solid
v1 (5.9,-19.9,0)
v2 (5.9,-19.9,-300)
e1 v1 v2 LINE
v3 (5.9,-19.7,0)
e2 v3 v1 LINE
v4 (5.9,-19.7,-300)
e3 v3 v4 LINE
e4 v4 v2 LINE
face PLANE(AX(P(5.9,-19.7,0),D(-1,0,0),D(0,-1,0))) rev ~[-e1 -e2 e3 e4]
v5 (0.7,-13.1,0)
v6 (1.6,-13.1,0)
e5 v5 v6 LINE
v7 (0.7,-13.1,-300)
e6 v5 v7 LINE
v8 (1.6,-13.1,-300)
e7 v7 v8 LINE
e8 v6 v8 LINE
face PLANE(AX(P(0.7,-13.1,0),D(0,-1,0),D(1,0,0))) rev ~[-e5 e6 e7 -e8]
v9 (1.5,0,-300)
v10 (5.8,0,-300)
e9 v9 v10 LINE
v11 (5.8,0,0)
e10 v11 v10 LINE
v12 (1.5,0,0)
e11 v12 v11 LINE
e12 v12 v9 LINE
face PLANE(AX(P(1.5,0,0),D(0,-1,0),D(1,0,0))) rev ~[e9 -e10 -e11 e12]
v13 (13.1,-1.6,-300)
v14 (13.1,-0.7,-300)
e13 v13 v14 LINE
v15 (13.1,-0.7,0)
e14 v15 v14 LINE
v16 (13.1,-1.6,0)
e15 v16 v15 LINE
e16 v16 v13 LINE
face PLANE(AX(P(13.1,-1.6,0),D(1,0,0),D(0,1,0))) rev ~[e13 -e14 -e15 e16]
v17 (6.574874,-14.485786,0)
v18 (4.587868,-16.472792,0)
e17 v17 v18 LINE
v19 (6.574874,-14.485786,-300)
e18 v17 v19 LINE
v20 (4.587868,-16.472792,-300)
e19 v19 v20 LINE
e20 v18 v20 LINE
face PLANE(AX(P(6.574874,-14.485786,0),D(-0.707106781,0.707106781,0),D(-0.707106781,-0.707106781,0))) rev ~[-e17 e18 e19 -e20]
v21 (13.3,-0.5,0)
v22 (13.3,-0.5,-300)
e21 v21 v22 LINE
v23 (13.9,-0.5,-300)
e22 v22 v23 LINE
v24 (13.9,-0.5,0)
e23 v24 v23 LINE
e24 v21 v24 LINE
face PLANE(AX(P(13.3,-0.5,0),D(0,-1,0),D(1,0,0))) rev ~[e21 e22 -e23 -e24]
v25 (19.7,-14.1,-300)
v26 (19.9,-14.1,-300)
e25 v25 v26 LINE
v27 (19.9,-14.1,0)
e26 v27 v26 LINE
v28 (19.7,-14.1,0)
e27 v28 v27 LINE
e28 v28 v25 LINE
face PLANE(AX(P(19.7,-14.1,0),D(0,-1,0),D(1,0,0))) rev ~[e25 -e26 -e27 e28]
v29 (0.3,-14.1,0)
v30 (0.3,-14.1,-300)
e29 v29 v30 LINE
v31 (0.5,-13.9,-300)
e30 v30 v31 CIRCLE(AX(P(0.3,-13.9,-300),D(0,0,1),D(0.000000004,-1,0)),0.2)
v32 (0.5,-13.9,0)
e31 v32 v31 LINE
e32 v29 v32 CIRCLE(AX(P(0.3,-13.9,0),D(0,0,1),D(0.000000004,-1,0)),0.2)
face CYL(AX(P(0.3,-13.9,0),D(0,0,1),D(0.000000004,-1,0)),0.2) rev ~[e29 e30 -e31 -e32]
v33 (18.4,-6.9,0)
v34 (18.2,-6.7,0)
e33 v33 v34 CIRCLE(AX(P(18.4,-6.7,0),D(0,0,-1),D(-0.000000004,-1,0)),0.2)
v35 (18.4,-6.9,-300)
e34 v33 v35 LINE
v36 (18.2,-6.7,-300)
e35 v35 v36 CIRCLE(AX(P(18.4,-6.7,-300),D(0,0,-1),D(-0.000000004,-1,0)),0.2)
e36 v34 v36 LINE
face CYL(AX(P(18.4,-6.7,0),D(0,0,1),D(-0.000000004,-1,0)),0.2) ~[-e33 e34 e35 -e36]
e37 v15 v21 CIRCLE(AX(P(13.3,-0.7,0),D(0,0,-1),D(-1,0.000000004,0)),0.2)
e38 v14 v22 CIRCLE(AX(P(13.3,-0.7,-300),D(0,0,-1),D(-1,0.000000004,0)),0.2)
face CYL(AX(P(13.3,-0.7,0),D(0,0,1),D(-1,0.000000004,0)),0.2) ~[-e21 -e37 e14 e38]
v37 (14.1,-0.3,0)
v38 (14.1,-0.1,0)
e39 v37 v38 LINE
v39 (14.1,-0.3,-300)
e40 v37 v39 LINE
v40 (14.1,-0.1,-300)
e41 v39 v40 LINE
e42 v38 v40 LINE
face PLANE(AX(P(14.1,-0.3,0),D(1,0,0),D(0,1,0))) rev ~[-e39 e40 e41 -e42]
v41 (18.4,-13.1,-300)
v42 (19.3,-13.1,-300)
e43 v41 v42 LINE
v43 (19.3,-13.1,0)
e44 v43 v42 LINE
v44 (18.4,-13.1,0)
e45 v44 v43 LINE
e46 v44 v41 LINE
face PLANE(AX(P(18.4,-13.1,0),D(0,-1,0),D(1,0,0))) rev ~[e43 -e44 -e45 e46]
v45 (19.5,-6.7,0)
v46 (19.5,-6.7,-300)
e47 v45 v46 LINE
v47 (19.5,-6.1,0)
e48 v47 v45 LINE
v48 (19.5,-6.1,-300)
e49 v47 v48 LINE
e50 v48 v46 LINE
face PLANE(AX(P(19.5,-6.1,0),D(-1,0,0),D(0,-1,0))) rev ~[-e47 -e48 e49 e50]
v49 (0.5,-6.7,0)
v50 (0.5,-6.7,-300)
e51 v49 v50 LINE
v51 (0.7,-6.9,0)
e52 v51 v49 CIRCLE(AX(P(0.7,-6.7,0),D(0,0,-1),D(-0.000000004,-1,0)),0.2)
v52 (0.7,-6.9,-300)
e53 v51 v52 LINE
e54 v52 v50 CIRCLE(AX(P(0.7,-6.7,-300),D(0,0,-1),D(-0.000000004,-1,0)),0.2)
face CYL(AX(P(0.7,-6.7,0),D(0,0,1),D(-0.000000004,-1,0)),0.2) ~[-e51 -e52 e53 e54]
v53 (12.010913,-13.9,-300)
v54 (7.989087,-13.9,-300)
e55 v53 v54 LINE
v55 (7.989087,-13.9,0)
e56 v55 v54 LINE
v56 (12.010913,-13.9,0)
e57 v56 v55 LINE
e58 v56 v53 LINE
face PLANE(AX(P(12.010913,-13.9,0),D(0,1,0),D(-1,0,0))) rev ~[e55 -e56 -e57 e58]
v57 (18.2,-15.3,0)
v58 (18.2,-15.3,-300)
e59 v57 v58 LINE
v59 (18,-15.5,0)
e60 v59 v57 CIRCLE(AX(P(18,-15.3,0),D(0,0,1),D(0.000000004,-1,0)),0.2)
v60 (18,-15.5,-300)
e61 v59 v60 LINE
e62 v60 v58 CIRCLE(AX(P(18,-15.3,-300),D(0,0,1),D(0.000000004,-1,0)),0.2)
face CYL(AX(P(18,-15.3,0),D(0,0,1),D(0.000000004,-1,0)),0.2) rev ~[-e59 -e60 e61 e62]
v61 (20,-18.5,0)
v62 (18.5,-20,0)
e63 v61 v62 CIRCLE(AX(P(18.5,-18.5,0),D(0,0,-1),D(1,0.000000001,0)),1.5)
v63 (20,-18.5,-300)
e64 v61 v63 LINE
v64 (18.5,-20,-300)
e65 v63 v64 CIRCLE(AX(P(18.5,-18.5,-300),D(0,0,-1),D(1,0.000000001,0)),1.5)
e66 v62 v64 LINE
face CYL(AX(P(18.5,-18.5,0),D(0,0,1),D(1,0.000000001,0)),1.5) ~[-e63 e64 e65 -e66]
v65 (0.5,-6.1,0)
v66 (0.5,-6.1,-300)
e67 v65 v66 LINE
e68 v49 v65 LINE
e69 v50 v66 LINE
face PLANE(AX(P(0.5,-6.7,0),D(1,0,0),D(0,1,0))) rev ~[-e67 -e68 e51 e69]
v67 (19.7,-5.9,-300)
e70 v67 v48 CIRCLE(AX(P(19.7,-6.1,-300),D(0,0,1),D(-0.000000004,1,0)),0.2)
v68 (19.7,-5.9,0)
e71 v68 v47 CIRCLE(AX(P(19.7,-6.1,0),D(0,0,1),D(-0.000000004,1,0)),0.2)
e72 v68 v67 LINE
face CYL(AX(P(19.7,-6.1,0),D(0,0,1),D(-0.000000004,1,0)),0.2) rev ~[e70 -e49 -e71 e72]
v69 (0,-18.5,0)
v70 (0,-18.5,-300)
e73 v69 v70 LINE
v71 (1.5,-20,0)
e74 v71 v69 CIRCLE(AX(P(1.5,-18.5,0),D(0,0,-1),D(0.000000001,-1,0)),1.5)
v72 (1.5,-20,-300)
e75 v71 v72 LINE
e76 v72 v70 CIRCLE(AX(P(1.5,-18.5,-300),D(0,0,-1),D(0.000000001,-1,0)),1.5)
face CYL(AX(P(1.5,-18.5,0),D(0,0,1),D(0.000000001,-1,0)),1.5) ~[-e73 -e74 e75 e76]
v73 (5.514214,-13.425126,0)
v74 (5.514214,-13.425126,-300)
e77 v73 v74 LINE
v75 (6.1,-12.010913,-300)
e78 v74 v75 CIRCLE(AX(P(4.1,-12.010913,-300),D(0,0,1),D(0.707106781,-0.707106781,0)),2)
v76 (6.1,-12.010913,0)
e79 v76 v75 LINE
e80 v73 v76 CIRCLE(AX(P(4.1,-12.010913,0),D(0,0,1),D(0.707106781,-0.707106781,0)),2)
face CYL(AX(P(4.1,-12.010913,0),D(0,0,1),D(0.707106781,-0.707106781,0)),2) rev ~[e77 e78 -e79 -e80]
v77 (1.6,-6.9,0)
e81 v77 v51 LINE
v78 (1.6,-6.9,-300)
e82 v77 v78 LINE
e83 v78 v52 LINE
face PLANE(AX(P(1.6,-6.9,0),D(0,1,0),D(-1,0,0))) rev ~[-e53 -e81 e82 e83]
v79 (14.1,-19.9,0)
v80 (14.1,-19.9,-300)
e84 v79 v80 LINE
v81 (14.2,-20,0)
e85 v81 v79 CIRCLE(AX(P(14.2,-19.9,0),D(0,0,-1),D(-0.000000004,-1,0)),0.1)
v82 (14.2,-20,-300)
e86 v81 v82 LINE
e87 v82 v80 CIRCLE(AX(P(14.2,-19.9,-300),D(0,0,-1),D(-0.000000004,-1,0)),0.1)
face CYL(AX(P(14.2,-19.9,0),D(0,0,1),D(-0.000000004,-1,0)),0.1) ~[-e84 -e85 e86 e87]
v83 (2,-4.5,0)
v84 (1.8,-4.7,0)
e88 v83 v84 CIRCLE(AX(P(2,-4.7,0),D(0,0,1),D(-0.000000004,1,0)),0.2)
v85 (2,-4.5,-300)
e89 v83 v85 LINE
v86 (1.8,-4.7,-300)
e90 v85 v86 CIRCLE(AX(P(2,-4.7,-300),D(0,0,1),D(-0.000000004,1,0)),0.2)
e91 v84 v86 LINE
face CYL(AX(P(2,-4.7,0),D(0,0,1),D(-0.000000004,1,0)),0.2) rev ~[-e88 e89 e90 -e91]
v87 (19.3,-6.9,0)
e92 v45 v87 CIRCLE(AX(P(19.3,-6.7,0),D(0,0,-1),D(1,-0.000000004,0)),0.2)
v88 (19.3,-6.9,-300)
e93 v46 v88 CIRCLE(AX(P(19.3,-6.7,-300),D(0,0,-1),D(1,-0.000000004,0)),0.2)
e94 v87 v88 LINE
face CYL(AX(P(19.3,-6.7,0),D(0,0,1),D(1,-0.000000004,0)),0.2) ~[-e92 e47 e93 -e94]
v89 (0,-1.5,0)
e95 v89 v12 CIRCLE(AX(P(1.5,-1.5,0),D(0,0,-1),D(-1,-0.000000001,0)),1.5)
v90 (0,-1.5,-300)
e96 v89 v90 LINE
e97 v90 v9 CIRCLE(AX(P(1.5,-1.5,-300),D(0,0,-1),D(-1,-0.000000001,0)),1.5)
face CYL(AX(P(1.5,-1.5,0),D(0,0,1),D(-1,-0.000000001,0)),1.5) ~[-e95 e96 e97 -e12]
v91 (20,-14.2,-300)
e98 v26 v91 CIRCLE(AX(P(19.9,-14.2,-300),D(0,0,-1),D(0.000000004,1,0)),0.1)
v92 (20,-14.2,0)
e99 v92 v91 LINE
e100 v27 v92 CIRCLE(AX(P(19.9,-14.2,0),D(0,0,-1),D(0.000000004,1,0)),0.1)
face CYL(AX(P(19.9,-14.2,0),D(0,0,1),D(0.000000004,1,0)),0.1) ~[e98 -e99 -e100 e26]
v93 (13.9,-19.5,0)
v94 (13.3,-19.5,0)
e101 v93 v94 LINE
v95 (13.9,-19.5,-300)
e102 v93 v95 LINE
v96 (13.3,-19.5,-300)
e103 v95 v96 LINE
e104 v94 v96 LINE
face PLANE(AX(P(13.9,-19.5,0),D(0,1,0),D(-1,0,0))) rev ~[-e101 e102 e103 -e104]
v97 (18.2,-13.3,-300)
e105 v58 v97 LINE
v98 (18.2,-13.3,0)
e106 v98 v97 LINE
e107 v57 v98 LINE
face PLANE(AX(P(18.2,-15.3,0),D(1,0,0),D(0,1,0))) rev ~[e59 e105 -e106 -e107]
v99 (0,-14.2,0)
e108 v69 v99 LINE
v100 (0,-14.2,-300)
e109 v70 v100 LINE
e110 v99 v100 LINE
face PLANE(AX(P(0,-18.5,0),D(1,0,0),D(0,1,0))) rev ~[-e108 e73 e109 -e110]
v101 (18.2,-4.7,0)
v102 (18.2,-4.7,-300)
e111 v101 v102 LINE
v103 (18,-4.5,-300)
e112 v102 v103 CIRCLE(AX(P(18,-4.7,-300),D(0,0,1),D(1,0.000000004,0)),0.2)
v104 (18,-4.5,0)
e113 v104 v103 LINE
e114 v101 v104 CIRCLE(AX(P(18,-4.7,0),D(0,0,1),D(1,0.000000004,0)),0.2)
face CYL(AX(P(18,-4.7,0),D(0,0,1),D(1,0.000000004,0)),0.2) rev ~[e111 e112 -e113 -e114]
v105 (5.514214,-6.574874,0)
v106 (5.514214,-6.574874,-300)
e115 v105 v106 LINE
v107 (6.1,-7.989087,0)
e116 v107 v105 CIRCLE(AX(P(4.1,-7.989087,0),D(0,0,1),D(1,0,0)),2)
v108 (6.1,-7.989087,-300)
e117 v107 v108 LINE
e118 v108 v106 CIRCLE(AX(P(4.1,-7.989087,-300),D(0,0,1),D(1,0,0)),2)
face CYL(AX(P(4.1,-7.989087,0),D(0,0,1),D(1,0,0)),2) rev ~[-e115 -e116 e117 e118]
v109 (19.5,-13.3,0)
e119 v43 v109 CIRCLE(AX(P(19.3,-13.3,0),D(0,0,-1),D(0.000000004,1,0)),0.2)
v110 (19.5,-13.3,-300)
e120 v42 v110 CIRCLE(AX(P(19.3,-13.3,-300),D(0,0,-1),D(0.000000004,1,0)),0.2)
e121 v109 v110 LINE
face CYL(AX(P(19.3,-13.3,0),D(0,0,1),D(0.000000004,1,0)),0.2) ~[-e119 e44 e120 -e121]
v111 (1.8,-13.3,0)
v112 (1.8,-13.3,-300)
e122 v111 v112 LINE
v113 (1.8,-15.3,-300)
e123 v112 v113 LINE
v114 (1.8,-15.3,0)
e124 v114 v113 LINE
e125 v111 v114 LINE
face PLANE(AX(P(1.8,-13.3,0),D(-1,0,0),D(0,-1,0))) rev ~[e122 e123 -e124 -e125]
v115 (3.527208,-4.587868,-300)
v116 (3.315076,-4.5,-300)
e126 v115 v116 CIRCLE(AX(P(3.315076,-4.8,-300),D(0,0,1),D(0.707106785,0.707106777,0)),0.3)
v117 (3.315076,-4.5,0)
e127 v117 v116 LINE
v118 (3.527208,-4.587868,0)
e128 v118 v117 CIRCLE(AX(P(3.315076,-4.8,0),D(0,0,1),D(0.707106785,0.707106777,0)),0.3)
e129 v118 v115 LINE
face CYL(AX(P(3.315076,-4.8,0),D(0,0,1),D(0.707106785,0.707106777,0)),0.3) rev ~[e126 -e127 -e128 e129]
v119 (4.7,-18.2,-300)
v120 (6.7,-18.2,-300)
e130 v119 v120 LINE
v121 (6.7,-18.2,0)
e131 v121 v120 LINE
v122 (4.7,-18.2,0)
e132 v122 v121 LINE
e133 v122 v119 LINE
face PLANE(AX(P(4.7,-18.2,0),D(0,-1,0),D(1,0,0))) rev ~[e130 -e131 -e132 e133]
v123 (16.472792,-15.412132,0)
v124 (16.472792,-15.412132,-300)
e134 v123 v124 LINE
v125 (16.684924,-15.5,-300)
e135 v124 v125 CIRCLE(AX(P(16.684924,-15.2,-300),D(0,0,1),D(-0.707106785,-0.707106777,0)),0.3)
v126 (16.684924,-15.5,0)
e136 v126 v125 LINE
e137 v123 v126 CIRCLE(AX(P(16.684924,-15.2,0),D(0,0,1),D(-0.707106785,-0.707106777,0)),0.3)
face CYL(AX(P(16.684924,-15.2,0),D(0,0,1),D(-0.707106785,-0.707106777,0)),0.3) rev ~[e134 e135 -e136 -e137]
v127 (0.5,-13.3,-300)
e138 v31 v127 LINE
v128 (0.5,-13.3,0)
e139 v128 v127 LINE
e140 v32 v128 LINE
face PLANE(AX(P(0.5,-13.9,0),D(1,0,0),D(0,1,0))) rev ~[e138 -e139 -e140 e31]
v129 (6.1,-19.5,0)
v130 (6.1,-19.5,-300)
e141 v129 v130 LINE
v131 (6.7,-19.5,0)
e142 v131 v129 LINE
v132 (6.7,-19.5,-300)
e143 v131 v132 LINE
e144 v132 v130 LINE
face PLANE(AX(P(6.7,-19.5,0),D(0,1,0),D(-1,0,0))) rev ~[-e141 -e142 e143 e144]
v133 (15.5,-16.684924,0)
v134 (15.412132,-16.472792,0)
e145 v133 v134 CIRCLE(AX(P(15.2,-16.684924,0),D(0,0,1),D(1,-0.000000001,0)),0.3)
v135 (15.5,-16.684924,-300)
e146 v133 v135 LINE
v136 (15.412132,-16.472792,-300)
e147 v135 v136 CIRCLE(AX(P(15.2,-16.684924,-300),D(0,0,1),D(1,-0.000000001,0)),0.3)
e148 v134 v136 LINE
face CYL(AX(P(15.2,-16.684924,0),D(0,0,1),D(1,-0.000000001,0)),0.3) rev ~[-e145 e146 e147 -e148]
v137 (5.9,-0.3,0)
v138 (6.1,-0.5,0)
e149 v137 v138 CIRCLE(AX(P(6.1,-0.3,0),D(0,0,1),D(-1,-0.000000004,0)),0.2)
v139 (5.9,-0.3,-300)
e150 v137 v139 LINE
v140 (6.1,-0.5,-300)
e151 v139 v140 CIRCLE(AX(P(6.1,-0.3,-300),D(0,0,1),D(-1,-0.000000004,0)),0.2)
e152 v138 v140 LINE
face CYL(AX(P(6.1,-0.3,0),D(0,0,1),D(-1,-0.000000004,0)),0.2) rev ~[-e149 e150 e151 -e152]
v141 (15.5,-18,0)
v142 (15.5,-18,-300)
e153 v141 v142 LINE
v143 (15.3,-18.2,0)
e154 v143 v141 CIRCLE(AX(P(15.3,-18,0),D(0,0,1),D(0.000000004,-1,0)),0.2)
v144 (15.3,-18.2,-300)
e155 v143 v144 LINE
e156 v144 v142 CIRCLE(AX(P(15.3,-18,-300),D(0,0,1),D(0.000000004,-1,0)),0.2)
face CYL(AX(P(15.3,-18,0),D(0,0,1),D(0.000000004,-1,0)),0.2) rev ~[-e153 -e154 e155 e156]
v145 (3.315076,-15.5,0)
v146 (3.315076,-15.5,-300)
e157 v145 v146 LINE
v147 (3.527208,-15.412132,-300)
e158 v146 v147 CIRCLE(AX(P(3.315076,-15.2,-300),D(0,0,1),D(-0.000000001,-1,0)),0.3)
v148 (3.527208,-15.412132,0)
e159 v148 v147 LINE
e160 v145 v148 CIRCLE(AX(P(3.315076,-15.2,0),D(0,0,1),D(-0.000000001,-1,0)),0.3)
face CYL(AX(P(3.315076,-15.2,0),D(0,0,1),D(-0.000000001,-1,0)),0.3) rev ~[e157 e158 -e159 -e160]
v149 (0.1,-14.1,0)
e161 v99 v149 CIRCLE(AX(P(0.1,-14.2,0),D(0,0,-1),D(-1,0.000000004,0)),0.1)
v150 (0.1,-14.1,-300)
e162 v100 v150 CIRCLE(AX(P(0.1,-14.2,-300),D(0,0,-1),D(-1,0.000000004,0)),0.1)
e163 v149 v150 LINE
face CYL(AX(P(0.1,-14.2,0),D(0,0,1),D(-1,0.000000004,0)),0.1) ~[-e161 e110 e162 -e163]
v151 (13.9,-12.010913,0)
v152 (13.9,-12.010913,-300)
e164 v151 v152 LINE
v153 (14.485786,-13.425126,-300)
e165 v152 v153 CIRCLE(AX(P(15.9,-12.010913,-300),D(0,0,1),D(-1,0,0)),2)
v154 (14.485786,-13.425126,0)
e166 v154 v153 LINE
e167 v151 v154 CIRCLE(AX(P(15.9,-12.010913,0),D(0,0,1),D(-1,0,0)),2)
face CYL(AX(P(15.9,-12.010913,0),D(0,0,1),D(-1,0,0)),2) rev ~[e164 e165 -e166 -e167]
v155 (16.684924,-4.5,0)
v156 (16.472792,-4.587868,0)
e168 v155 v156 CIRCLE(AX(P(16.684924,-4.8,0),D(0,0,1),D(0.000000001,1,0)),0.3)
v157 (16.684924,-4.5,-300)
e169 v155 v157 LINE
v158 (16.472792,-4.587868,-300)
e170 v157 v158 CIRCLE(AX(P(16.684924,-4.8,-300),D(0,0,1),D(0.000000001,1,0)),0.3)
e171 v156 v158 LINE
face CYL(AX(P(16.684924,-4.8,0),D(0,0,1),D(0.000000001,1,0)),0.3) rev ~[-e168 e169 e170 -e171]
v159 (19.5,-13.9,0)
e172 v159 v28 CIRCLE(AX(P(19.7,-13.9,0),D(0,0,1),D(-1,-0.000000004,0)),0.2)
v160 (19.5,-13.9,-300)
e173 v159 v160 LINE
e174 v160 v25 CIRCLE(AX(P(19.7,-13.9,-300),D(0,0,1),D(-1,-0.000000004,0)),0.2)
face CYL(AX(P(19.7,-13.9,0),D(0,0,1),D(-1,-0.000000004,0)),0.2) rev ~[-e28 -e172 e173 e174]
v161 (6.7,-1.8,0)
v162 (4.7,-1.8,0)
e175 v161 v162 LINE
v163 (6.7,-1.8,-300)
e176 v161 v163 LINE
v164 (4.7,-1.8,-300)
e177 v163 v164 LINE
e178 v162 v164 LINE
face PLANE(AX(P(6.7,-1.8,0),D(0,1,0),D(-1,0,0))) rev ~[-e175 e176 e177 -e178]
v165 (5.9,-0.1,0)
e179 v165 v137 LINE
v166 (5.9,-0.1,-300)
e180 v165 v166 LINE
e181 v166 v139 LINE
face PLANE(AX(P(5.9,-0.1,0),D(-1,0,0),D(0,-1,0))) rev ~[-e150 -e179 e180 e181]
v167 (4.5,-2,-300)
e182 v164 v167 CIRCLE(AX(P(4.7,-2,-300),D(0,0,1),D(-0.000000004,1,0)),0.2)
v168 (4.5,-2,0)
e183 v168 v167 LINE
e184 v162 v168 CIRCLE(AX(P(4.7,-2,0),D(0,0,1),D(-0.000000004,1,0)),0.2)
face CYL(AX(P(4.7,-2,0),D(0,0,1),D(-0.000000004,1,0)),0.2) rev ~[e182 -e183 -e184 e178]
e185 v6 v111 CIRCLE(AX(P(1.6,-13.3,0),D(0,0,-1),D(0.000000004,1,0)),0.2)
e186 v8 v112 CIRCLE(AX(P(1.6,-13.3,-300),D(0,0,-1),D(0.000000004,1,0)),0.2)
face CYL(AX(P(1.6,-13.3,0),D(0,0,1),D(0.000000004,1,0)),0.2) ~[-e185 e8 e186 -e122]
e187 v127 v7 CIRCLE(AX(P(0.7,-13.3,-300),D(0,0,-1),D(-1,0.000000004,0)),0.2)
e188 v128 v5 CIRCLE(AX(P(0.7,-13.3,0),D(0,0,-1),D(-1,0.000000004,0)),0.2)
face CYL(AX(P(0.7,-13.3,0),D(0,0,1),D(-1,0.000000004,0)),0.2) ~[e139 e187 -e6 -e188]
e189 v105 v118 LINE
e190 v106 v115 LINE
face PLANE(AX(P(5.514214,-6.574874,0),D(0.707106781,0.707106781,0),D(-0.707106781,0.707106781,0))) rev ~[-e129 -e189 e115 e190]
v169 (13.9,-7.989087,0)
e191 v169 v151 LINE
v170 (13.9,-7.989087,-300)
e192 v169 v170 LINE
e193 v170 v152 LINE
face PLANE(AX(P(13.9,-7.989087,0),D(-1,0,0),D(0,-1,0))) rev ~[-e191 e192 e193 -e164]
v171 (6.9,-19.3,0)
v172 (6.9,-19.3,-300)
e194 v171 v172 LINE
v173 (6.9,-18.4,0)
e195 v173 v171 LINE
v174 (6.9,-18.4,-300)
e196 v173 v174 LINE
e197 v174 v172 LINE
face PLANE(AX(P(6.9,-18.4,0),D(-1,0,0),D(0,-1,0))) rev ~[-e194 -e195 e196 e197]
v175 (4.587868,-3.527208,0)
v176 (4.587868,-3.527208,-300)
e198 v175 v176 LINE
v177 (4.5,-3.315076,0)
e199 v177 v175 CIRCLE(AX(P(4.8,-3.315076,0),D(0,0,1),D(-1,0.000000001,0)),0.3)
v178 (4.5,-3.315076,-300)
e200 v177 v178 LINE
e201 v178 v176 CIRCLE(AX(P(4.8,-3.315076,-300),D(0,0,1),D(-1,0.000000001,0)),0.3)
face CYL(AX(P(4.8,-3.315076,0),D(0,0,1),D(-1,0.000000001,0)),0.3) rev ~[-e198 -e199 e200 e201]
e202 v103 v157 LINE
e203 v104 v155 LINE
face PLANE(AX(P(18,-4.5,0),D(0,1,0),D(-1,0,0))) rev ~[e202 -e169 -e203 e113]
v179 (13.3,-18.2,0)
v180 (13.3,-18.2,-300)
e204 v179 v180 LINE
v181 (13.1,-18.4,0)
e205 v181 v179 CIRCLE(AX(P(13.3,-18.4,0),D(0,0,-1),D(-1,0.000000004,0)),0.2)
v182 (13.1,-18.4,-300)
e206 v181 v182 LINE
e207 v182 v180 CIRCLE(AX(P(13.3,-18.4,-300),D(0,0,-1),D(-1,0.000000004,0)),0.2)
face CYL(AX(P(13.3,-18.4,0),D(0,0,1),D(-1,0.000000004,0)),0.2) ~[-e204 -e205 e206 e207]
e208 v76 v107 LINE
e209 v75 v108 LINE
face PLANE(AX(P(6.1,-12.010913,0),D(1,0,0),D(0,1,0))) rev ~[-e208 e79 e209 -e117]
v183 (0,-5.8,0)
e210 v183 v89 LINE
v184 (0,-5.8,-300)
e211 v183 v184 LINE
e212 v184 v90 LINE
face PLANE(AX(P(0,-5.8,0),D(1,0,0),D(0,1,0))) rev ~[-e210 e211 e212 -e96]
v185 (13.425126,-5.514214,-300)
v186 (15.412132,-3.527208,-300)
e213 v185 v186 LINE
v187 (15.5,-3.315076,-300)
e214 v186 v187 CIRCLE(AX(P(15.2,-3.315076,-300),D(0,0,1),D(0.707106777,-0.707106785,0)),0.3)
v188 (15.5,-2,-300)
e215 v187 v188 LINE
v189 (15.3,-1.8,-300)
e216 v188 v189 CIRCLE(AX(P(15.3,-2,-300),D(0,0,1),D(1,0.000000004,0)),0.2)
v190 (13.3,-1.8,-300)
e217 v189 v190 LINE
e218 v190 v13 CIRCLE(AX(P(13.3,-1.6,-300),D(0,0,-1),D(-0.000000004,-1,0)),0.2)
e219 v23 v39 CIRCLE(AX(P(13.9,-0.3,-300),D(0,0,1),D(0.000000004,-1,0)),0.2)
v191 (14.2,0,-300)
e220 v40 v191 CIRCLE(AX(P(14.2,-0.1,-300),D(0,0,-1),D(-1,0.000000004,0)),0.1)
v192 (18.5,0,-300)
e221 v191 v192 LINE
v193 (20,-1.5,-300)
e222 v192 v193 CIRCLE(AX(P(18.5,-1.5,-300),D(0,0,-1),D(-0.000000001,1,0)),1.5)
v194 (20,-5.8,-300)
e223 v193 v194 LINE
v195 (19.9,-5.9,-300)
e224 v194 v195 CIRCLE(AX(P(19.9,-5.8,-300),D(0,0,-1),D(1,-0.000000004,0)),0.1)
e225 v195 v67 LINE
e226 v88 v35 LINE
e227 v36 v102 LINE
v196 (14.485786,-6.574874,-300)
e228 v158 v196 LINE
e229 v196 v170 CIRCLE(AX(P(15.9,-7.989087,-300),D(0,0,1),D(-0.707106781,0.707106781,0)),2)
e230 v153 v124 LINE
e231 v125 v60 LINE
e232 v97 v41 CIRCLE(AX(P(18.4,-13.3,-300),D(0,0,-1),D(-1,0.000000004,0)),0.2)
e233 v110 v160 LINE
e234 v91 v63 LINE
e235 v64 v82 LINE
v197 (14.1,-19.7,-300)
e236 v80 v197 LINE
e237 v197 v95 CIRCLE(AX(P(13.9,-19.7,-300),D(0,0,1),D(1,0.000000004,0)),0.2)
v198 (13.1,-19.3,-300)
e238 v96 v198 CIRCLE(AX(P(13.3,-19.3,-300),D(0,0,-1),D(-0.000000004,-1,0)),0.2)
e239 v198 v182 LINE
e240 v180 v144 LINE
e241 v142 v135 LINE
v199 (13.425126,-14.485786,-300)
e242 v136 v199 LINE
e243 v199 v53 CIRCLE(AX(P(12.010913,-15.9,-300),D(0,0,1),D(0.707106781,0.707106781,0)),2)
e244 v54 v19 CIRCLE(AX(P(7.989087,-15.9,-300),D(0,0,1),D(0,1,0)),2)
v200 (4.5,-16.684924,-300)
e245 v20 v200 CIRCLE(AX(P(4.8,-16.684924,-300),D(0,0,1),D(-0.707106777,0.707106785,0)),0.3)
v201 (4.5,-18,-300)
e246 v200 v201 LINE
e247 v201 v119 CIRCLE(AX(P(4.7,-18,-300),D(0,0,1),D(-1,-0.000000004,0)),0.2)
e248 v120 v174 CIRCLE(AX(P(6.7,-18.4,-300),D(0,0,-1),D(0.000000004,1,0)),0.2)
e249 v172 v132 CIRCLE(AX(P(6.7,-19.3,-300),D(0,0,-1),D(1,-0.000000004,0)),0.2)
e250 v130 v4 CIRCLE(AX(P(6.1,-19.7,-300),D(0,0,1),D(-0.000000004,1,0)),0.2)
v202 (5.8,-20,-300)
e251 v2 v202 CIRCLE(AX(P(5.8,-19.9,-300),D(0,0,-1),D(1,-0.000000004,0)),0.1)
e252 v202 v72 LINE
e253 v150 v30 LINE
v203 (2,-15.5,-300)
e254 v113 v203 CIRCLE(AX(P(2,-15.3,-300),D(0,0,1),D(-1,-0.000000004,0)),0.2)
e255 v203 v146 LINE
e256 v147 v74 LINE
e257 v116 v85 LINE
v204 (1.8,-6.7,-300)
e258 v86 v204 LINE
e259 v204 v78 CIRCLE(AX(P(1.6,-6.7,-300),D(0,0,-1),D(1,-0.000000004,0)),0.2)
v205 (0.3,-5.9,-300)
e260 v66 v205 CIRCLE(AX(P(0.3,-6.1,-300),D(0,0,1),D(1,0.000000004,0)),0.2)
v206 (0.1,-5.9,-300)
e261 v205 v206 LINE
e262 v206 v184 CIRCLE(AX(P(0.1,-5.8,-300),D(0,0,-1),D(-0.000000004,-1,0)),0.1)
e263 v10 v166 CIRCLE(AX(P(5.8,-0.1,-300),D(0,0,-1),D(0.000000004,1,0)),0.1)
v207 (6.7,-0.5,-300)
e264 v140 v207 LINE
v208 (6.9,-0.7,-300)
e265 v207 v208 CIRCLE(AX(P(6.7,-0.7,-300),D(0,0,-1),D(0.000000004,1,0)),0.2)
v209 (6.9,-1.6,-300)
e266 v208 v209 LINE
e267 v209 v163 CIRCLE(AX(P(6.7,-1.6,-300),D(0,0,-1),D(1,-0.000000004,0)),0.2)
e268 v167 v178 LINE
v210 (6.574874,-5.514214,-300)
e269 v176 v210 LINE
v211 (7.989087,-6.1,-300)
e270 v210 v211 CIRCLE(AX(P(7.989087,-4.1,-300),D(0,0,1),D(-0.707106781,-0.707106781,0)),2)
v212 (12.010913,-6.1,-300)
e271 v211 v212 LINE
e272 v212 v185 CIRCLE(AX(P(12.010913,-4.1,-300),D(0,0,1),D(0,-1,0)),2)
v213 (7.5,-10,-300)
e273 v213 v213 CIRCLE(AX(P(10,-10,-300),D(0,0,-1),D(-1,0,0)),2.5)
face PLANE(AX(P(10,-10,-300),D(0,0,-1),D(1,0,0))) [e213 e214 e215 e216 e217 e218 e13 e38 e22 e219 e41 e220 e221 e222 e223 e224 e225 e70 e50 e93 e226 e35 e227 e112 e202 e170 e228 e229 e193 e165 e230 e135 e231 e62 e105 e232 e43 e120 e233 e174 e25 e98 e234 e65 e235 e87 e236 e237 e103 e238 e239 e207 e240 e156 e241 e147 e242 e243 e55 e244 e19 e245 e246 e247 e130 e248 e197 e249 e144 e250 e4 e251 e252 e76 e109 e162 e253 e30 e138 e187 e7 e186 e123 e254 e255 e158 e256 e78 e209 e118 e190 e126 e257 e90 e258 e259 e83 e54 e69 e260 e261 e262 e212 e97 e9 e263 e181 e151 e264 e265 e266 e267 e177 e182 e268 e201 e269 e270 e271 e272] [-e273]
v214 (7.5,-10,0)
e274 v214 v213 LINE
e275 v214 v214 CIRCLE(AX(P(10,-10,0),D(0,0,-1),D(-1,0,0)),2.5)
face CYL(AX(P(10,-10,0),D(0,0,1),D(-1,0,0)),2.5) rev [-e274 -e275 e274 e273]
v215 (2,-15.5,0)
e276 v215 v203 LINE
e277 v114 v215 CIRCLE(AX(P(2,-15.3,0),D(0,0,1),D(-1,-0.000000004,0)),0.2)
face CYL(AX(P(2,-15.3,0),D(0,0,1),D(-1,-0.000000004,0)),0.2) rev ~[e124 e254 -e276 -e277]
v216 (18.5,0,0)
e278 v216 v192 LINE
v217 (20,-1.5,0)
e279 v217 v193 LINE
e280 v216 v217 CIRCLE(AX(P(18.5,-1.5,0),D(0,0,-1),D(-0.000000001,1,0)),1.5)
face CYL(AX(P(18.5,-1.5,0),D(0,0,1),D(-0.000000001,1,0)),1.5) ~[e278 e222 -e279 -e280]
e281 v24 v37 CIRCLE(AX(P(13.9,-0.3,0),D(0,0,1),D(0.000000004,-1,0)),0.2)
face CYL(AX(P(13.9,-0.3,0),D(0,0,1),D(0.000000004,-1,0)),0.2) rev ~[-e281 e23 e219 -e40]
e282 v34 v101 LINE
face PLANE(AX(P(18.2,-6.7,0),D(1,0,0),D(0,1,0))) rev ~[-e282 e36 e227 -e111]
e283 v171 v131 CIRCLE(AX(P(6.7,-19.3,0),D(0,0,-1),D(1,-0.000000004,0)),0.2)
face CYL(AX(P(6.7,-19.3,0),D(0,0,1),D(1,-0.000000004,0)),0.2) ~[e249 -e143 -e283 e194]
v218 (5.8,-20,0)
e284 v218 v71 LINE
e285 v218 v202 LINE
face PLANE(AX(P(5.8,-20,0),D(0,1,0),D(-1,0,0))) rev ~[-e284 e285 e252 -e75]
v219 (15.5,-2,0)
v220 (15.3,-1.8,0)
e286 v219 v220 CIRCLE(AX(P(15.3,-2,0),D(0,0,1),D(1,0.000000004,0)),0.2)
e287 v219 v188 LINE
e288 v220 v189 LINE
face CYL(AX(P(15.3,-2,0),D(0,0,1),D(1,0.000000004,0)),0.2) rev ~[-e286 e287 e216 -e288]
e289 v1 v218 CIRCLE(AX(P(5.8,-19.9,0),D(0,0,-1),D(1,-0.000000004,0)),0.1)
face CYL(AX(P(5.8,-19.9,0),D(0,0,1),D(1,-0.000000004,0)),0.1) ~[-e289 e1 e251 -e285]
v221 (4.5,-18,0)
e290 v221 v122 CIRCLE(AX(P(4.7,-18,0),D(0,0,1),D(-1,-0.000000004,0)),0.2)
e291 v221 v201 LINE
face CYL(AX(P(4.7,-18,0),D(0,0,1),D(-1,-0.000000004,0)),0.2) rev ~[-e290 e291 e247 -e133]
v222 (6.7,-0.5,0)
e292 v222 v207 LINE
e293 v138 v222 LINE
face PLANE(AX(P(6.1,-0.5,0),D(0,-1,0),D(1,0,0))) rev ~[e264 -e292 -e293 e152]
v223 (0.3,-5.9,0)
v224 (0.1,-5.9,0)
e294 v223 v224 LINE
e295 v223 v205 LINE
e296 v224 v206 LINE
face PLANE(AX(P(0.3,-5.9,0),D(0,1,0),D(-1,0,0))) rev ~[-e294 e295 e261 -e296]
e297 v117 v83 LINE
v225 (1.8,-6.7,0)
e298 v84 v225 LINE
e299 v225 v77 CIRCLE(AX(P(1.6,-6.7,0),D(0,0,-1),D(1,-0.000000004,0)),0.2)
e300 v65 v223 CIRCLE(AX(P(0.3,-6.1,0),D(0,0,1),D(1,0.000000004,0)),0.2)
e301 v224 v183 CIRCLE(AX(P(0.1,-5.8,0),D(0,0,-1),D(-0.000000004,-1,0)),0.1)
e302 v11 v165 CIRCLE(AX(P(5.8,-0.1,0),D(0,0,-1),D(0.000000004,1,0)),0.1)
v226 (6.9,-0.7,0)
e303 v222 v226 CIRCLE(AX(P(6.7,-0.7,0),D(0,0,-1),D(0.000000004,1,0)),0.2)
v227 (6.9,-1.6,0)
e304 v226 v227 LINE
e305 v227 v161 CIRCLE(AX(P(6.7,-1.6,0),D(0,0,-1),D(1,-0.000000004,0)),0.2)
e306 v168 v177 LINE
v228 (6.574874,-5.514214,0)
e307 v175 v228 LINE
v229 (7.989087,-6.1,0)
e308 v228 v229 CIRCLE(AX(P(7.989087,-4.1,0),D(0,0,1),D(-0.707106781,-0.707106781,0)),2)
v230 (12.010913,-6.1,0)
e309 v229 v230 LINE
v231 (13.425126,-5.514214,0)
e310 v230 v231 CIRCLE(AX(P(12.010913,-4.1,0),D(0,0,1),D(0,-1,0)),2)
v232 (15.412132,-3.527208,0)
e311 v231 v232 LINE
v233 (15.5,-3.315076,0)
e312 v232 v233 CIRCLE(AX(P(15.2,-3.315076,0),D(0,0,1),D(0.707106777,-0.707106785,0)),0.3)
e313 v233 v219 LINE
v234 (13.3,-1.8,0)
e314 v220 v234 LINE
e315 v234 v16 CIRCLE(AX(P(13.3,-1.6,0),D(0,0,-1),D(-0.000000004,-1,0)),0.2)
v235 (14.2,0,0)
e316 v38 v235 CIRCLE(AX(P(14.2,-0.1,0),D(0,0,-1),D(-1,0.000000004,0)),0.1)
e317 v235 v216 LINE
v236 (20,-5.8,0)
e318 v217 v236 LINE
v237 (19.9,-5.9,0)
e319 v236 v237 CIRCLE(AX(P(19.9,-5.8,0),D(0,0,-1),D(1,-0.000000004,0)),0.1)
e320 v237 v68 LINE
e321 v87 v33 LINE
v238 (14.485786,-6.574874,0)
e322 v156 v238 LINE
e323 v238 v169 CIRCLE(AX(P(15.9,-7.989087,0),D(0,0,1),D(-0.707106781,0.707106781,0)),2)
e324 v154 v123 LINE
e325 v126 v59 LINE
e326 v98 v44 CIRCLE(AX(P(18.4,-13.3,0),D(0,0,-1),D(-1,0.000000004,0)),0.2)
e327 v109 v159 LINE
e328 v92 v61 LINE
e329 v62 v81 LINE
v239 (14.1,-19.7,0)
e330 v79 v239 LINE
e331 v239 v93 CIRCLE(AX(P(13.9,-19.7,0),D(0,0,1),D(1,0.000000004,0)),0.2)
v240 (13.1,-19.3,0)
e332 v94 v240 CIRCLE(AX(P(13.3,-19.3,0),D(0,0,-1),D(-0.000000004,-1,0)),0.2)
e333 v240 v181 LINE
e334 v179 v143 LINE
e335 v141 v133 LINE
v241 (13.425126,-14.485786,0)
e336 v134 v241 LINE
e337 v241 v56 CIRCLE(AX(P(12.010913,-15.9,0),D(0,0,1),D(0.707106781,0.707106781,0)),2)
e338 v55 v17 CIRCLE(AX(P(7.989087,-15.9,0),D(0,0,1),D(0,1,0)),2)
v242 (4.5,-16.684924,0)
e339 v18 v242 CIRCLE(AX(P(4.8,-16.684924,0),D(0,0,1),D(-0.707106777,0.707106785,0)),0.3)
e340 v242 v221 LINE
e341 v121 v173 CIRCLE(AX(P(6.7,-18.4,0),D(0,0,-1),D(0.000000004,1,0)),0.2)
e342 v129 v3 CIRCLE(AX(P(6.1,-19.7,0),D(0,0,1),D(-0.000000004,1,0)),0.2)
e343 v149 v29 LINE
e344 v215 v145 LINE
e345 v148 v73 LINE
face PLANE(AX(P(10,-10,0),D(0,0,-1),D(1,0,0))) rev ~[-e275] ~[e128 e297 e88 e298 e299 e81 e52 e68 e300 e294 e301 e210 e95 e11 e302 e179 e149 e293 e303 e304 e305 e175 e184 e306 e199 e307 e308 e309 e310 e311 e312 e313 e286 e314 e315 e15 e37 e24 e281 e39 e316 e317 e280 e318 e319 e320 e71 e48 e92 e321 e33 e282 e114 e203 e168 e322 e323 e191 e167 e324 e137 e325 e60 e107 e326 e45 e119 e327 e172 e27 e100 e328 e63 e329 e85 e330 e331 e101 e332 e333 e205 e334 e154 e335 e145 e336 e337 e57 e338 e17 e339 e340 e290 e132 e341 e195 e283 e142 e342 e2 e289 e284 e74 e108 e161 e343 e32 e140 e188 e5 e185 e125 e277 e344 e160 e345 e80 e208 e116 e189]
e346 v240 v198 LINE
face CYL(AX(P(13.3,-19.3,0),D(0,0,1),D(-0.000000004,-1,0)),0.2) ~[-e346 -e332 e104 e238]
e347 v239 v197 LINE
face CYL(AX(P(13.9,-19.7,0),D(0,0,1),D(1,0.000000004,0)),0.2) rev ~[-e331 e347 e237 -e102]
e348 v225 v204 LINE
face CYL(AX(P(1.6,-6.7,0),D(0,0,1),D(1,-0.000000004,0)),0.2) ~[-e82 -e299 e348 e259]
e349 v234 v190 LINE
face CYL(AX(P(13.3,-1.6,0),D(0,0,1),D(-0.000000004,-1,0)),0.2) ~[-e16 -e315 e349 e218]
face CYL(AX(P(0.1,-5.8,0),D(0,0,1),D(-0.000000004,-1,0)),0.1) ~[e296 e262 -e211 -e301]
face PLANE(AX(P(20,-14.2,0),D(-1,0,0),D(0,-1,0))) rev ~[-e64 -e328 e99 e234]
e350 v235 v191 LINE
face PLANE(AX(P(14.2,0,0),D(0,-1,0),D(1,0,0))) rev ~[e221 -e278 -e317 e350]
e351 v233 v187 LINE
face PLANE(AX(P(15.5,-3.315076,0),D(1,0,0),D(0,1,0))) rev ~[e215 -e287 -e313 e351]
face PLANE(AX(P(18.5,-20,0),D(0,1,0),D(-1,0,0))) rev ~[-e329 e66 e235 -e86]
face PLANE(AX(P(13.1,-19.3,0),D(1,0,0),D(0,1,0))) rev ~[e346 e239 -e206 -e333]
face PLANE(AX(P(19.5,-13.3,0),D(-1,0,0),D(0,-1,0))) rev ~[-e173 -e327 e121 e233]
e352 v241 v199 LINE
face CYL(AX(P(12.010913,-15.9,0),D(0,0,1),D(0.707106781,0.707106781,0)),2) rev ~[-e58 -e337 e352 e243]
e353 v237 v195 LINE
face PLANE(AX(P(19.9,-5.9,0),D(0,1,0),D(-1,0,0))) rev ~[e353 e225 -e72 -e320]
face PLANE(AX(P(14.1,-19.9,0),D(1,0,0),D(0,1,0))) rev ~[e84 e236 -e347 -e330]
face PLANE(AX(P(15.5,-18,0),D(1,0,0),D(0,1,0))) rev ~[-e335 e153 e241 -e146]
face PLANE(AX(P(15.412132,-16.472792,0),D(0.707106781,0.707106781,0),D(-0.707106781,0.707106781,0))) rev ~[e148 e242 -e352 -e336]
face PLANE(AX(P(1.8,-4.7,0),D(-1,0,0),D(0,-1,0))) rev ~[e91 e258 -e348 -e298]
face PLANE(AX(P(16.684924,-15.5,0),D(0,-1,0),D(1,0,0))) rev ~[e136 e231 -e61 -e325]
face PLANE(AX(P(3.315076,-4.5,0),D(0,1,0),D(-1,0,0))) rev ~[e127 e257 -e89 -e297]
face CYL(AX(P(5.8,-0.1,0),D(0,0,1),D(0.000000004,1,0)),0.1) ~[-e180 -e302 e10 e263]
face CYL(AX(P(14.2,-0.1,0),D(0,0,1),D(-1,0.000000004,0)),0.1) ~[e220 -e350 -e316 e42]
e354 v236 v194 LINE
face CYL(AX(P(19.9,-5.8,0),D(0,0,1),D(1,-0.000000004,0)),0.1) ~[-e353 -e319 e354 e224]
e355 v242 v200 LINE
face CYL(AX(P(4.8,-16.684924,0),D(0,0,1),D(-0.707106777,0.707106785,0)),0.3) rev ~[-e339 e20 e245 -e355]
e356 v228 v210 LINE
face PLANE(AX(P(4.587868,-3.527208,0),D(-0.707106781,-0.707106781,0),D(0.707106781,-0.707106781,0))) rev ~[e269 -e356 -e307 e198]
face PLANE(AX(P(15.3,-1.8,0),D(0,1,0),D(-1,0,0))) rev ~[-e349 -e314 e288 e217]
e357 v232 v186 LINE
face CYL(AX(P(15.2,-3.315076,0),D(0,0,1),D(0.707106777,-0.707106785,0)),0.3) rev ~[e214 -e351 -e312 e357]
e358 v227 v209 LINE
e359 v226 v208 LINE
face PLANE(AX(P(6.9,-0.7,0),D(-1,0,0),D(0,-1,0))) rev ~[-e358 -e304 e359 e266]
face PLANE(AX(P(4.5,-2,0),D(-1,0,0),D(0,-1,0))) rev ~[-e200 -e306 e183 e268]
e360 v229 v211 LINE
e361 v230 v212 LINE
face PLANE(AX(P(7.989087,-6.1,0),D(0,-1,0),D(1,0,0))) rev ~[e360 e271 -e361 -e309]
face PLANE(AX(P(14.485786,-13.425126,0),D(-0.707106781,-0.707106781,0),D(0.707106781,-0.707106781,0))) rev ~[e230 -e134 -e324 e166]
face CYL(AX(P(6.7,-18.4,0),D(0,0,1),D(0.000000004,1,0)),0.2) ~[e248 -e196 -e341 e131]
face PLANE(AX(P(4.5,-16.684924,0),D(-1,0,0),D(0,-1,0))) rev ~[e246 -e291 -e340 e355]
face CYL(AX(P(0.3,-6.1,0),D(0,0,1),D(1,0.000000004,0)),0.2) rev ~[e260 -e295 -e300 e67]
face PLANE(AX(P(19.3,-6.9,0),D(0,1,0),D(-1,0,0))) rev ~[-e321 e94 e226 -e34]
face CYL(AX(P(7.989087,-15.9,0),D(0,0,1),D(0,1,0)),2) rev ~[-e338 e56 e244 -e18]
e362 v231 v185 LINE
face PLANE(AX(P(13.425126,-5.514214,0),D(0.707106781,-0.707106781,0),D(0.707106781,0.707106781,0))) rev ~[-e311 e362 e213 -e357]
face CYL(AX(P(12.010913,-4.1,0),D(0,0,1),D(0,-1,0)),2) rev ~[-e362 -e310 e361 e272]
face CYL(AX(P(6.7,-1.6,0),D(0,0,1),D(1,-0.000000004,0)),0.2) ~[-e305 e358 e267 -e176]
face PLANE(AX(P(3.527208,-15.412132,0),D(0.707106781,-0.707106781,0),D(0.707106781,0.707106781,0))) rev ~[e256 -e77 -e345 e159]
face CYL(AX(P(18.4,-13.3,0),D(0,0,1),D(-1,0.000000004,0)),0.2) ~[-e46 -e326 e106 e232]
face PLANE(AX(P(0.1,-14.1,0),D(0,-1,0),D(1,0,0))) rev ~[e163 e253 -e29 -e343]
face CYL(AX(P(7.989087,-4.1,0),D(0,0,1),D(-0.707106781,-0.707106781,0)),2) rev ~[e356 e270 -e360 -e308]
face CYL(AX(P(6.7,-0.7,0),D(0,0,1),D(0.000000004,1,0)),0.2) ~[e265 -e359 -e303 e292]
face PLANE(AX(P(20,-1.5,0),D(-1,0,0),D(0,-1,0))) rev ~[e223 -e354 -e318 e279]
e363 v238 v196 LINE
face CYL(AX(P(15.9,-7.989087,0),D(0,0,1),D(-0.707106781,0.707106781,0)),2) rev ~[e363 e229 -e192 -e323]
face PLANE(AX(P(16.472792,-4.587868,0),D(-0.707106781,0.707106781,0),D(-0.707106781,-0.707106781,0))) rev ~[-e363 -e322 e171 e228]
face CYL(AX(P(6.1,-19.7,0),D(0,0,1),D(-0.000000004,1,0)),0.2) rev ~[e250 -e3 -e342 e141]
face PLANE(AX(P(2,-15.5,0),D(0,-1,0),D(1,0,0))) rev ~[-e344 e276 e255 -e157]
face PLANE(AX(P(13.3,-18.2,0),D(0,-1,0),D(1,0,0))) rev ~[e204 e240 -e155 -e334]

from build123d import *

# Parameters (mm, degrees)
SKETCH1_R           = 2.5
BOSS_EXTRUDE1_DEPTH = 300


with BuildPart() as part:
    # Sketch1 → Boss-Extrude1 (new body)
    with BuildSketch(Plane(origin=(0, 0, 0), x_dir=(1, 0, 0), z_dir=(0, 0, -1))):
        with BuildLine():
            Line((1.5, 0), (5.8, 0))
            ThreePointArc((5.8, 0), (5.870710678, 0.029289322), (5.9, 0.1))
            Line((5.9, 0.1), (5.9, 0.3))
            ThreePointArc((5.9, 0.3), (5.958578644, 0.441421356), (6.1, 0.5))
            Line((6.1, 0.5), (6.7, 0.5))
            ThreePointArc((6.7, 0.5), (6.841421356, 0.558578644), (6.9, 0.7))
            Line((6.9, 0.7), (6.9, 1.6))
            ThreePointArc((6.9, 1.6), (6.841421356, 1.741421356), (6.7, 1.8))
            Line((6.7, 1.8), (4.7, 1.8))
            ThreePointArc((4.7, 1.8), (4.558578644, 1.858578644), (4.5, 2))
            Line((4.5, 2), (4.5, 3.31507576))
            ThreePointArc((4.5, 3.31507576), (4.52283614, 3.429880789), (4.587867966, 3.527207794))
            Line((4.587867966, 3.527207794), (6.574873734, 5.514213562))
            ThreePointArc((6.574873734, 5.514213562), (7.223720432, 5.947759065), (7.989087297, 6.1))
            Line((7.989087297, 6.1), (12.010912703, 6.1))
            ThreePointArc((12.010912703, 6.1), (12.776279568, 5.947759065), (13.425126266, 5.514213562))
            Line((13.425126266, 5.514213562), (15.412132034, 3.527207794))
            ThreePointArc((15.412132034, 3.527207794), (15.47716386, 3.429880789), (15.5, 3.31507576))
            Line((15.5, 3.31507576), (15.5, 2))
            ThreePointArc((15.5, 2), (15.441421356, 1.858578644), (15.3, 1.8))
            Line((15.3, 1.8), (13.3, 1.8))
            ThreePointArc((13.3, 1.8), (13.158578644, 1.741421356), (13.1, 1.6))
            Line((13.1, 1.6), (13.1, 0.7))
            ThreePointArc((13.1, 0.7), (13.158578644, 0.558578644), (13.3, 0.5))
            Line((13.3, 0.5), (13.9, 0.5))
            ThreePointArc((13.9, 0.5), (14.041421356, 0.441421356), (14.1, 0.3))
            Line((14.1, 0.3), (14.1, 0.1))
            ThreePointArc((14.1, 0.1), (14.129289322, 0.029289322), (14.2, 0))
            Line((14.2, 0), (18.5, 0))
            ThreePointArc((18.5, 0), (19.560660172, 0.439339828), (20, 1.5))
            Line((20, 1.5), (20, 5.8))
            ThreePointArc((20, 5.8), (19.970710678, 5.870710678), (19.9, 5.9))
            Line((19.9, 5.9), (19.7, 5.9))
            ThreePointArc((19.7, 5.9), (19.558578644, 5.958578644), (19.5, 6.1))
            Line((19.5, 6.1), (19.5, 6.7))
            ThreePointArc((19.5, 6.7), (19.441421356, 6.841421356), (19.3, 6.9))
            Line((19.3, 6.9), (18.4, 6.9))
            ThreePointArc((18.4, 6.9), (18.258578644, 6.841421356), (18.2, 6.7))
            Line((18.2, 6.7), (18.2, 4.7))
            ThreePointArc((18.2, 4.7), (18.141421356, 4.558578644), (18, 4.5))
            Line((18, 4.5), (16.68492424, 4.5))
            ThreePointArc((16.68492424, 4.5), (16.570119211, 4.52283614), (16.472792206, 4.587867966))
            Line((16.472792206, 4.587867966), (14.485786438, 6.574873734))
            ThreePointArc((14.485786438, 6.574873734), (14.052240935, 7.223720432), (13.9, 7.989087297))
            Line((13.9, 7.989087297), (13.9, 12.010912703))
            ThreePointArc((13.9, 12.010912703), (14.052240935, 12.776279568), (14.485786438, 13.425126266))
            Line((14.485786438, 13.425126266), (16.472792206, 15.412132034))
            ThreePointArc((16.472792206, 15.412132034), (16.570119211, 15.47716386), (16.68492424, 15.5))
            Line((16.68492424, 15.5), (18, 15.5))
            ThreePointArc((18, 15.5), (18.141421356, 15.441421356), (18.2, 15.3))
            Line((18.2, 15.3), (18.2, 13.3))
            ThreePointArc((18.2, 13.3), (18.258578644, 13.158578644), (18.4, 13.1))
            Line((18.4, 13.1), (19.3, 13.1))
            ThreePointArc((19.3, 13.1), (19.441421356, 13.158578644), (19.5, 13.3))
            Line((19.5, 13.3), (19.5, 13.9))
            ThreePointArc((19.5, 13.9), (19.558578644, 14.041421356), (19.7, 14.1))
            Line((19.7, 14.1), (19.9, 14.1))
            ThreePointArc((19.9, 14.1), (19.970710678, 14.129289322), (20, 14.2))
            Line((20, 14.2), (20, 18.5))
            ThreePointArc((20, 18.5), (19.560660172, 19.560660172), (18.5, 20))
            Line((18.5, 20), (14.2, 20))
            ThreePointArc((14.2, 20), (14.129289322, 19.970710678), (14.1, 19.9))
            Line((14.1, 19.9), (14.1, 19.7))
            ThreePointArc((14.1, 19.7), (14.041421356, 19.558578644), (13.9, 19.5))
            Line((13.9, 19.5), (13.3, 19.5))
            ThreePointArc((13.3, 19.5), (13.158578644, 19.441421356), (13.1, 19.3))
            Line((13.1, 19.3), (13.1, 18.4))
            ThreePointArc((13.1, 18.4), (13.158578644, 18.258578644), (13.3, 18.2))
            Line((13.3, 18.2), (15.3, 18.2))
            ThreePointArc((15.3, 18.2), (15.441421356, 18.141421356), (15.5, 18))
            Line((15.5, 18), (15.5, 16.68492424))
            ThreePointArc((15.5, 16.68492424), (15.47716386, 16.570119211), (15.412132034, 16.472792206))
            Line((15.412132034, 16.472792206), (13.425126266, 14.485786438))
            ThreePointArc((13.425126266, 14.485786438), (12.776279568, 14.052240935), (12.010912703, 13.9))
            Line((12.010912703, 13.9), (7.989087297, 13.9))
            ThreePointArc((7.989087297, 13.9), (7.223720432, 14.052240935), (6.574873734, 14.485786438))
            Line((6.574873734, 14.485786438), (4.587867966, 16.472792206))
            ThreePointArc((4.587867966, 16.472792206), (4.52283614, 16.570119211), (4.5, 16.68492424))
            Line((4.5, 16.68492424), (4.5, 18))
            ThreePointArc((4.5, 18), (4.558578644, 18.141421356), (4.7, 18.2))
            Line((4.7, 18.2), (6.7, 18.2))
            ThreePointArc((6.7, 18.2), (6.841421356, 18.258578644), (6.9, 18.4))
            Line((6.9, 18.4), (6.9, 19.3))
            ThreePointArc((6.9, 19.3), (6.841421356, 19.441421356), (6.7, 19.5))
            Line((6.7, 19.5), (6.1, 19.5))
            ThreePointArc((6.1, 19.5), (5.958578644, 19.558578644), (5.9, 19.7))
            Line((5.9, 19.7), (5.9, 19.9))
            ThreePointArc((5.9, 19.9), (5.870710678, 19.970710678), (5.8, 20))
            Line((5.8, 20), (1.5, 20))
            ThreePointArc((1.5, 20), (0.439339828, 19.560660172), (0, 18.5))
            Line((0, 18.5), (0, 14.2))
            ThreePointArc((0, 14.2), (0.029289322, 14.129289322), (0.1, 14.1))
            Line((0.1, 14.1), (0.3, 14.1))
            ThreePointArc((0.3, 14.1), (0.441421356, 14.041421356), (0.5, 13.9))
            Line((0.5, 13.9), (0.5, 13.3))
            ThreePointArc((0.5, 13.3), (0.558578644, 13.158578644), (0.7, 13.1))
            Line((0.7, 13.1), (1.6, 13.1))
            ThreePointArc((1.6, 13.1), (1.741421356, 13.158578644), (1.8, 13.3))
            Line((1.8, 13.3), (1.8, 15.3))
            ThreePointArc((1.8, 15.3), (1.858578644, 15.441421356), (2, 15.5))
            Line((2, 15.5), (3.31507576, 15.5))
            ThreePointArc((3.31507576, 15.5), (3.429880789, 15.47716386), (3.527207794, 15.412132034))
            Line((3.527207794, 15.412132034), (5.514213562, 13.425126266))
            ThreePointArc((5.514213562, 13.425126266), (5.947759065, 12.776279568), (6.1, 12.010912703))
            Line((6.1, 12.010912703), (6.1, 7.989087297))
            ThreePointArc((6.1, 7.989087297), (5.947759065, 7.223720432), (5.514213562, 6.574873734))
            Line((5.514213562, 6.574873734), (3.527207794, 4.587867966))
            ThreePointArc((3.527207794, 4.587867966), (3.429880789, 4.52283614), (3.31507576, 4.5))
            Line((3.31507576, 4.5), (2, 4.5))
            ThreePointArc((2, 4.5), (1.858578644, 4.558578644), (1.8, 4.7))
            Line((1.8, 4.7), (1.8, 6.7))
            ThreePointArc((1.8, 6.7), (1.741421356, 6.841421356), (1.6, 6.9))
            Line((1.6, 6.9), (0.7, 6.9))
            ThreePointArc((0.7, 6.9), (0.558578644, 6.841421356), (0.5, 6.7))
            Line((0.5, 6.7), (0.5, 6.1))
            ThreePointArc((0.5, 6.1), (0.441421356, 5.958578644), (0.3, 5.9))
            Line((0.3, 5.9), (0.1, 5.9))
            ThreePointArc((0.1, 5.9), (0.029289322, 5.870710678), (0, 5.8))
            Line((0, 5.8), (0, 1.5))
            ThreePointArc((0, 1.5), (0.439339828, 0.439339828), (1.5, 0))
        make_face()
        with Locations(Location((10, 10, 0), (0, 0, 180))):
            Circle(SKETCH1_R, mode=Mode.SUBTRACT)
    extrude(amount=BOSS_EXTRUDE1_DEPTH)


solid = part.part
